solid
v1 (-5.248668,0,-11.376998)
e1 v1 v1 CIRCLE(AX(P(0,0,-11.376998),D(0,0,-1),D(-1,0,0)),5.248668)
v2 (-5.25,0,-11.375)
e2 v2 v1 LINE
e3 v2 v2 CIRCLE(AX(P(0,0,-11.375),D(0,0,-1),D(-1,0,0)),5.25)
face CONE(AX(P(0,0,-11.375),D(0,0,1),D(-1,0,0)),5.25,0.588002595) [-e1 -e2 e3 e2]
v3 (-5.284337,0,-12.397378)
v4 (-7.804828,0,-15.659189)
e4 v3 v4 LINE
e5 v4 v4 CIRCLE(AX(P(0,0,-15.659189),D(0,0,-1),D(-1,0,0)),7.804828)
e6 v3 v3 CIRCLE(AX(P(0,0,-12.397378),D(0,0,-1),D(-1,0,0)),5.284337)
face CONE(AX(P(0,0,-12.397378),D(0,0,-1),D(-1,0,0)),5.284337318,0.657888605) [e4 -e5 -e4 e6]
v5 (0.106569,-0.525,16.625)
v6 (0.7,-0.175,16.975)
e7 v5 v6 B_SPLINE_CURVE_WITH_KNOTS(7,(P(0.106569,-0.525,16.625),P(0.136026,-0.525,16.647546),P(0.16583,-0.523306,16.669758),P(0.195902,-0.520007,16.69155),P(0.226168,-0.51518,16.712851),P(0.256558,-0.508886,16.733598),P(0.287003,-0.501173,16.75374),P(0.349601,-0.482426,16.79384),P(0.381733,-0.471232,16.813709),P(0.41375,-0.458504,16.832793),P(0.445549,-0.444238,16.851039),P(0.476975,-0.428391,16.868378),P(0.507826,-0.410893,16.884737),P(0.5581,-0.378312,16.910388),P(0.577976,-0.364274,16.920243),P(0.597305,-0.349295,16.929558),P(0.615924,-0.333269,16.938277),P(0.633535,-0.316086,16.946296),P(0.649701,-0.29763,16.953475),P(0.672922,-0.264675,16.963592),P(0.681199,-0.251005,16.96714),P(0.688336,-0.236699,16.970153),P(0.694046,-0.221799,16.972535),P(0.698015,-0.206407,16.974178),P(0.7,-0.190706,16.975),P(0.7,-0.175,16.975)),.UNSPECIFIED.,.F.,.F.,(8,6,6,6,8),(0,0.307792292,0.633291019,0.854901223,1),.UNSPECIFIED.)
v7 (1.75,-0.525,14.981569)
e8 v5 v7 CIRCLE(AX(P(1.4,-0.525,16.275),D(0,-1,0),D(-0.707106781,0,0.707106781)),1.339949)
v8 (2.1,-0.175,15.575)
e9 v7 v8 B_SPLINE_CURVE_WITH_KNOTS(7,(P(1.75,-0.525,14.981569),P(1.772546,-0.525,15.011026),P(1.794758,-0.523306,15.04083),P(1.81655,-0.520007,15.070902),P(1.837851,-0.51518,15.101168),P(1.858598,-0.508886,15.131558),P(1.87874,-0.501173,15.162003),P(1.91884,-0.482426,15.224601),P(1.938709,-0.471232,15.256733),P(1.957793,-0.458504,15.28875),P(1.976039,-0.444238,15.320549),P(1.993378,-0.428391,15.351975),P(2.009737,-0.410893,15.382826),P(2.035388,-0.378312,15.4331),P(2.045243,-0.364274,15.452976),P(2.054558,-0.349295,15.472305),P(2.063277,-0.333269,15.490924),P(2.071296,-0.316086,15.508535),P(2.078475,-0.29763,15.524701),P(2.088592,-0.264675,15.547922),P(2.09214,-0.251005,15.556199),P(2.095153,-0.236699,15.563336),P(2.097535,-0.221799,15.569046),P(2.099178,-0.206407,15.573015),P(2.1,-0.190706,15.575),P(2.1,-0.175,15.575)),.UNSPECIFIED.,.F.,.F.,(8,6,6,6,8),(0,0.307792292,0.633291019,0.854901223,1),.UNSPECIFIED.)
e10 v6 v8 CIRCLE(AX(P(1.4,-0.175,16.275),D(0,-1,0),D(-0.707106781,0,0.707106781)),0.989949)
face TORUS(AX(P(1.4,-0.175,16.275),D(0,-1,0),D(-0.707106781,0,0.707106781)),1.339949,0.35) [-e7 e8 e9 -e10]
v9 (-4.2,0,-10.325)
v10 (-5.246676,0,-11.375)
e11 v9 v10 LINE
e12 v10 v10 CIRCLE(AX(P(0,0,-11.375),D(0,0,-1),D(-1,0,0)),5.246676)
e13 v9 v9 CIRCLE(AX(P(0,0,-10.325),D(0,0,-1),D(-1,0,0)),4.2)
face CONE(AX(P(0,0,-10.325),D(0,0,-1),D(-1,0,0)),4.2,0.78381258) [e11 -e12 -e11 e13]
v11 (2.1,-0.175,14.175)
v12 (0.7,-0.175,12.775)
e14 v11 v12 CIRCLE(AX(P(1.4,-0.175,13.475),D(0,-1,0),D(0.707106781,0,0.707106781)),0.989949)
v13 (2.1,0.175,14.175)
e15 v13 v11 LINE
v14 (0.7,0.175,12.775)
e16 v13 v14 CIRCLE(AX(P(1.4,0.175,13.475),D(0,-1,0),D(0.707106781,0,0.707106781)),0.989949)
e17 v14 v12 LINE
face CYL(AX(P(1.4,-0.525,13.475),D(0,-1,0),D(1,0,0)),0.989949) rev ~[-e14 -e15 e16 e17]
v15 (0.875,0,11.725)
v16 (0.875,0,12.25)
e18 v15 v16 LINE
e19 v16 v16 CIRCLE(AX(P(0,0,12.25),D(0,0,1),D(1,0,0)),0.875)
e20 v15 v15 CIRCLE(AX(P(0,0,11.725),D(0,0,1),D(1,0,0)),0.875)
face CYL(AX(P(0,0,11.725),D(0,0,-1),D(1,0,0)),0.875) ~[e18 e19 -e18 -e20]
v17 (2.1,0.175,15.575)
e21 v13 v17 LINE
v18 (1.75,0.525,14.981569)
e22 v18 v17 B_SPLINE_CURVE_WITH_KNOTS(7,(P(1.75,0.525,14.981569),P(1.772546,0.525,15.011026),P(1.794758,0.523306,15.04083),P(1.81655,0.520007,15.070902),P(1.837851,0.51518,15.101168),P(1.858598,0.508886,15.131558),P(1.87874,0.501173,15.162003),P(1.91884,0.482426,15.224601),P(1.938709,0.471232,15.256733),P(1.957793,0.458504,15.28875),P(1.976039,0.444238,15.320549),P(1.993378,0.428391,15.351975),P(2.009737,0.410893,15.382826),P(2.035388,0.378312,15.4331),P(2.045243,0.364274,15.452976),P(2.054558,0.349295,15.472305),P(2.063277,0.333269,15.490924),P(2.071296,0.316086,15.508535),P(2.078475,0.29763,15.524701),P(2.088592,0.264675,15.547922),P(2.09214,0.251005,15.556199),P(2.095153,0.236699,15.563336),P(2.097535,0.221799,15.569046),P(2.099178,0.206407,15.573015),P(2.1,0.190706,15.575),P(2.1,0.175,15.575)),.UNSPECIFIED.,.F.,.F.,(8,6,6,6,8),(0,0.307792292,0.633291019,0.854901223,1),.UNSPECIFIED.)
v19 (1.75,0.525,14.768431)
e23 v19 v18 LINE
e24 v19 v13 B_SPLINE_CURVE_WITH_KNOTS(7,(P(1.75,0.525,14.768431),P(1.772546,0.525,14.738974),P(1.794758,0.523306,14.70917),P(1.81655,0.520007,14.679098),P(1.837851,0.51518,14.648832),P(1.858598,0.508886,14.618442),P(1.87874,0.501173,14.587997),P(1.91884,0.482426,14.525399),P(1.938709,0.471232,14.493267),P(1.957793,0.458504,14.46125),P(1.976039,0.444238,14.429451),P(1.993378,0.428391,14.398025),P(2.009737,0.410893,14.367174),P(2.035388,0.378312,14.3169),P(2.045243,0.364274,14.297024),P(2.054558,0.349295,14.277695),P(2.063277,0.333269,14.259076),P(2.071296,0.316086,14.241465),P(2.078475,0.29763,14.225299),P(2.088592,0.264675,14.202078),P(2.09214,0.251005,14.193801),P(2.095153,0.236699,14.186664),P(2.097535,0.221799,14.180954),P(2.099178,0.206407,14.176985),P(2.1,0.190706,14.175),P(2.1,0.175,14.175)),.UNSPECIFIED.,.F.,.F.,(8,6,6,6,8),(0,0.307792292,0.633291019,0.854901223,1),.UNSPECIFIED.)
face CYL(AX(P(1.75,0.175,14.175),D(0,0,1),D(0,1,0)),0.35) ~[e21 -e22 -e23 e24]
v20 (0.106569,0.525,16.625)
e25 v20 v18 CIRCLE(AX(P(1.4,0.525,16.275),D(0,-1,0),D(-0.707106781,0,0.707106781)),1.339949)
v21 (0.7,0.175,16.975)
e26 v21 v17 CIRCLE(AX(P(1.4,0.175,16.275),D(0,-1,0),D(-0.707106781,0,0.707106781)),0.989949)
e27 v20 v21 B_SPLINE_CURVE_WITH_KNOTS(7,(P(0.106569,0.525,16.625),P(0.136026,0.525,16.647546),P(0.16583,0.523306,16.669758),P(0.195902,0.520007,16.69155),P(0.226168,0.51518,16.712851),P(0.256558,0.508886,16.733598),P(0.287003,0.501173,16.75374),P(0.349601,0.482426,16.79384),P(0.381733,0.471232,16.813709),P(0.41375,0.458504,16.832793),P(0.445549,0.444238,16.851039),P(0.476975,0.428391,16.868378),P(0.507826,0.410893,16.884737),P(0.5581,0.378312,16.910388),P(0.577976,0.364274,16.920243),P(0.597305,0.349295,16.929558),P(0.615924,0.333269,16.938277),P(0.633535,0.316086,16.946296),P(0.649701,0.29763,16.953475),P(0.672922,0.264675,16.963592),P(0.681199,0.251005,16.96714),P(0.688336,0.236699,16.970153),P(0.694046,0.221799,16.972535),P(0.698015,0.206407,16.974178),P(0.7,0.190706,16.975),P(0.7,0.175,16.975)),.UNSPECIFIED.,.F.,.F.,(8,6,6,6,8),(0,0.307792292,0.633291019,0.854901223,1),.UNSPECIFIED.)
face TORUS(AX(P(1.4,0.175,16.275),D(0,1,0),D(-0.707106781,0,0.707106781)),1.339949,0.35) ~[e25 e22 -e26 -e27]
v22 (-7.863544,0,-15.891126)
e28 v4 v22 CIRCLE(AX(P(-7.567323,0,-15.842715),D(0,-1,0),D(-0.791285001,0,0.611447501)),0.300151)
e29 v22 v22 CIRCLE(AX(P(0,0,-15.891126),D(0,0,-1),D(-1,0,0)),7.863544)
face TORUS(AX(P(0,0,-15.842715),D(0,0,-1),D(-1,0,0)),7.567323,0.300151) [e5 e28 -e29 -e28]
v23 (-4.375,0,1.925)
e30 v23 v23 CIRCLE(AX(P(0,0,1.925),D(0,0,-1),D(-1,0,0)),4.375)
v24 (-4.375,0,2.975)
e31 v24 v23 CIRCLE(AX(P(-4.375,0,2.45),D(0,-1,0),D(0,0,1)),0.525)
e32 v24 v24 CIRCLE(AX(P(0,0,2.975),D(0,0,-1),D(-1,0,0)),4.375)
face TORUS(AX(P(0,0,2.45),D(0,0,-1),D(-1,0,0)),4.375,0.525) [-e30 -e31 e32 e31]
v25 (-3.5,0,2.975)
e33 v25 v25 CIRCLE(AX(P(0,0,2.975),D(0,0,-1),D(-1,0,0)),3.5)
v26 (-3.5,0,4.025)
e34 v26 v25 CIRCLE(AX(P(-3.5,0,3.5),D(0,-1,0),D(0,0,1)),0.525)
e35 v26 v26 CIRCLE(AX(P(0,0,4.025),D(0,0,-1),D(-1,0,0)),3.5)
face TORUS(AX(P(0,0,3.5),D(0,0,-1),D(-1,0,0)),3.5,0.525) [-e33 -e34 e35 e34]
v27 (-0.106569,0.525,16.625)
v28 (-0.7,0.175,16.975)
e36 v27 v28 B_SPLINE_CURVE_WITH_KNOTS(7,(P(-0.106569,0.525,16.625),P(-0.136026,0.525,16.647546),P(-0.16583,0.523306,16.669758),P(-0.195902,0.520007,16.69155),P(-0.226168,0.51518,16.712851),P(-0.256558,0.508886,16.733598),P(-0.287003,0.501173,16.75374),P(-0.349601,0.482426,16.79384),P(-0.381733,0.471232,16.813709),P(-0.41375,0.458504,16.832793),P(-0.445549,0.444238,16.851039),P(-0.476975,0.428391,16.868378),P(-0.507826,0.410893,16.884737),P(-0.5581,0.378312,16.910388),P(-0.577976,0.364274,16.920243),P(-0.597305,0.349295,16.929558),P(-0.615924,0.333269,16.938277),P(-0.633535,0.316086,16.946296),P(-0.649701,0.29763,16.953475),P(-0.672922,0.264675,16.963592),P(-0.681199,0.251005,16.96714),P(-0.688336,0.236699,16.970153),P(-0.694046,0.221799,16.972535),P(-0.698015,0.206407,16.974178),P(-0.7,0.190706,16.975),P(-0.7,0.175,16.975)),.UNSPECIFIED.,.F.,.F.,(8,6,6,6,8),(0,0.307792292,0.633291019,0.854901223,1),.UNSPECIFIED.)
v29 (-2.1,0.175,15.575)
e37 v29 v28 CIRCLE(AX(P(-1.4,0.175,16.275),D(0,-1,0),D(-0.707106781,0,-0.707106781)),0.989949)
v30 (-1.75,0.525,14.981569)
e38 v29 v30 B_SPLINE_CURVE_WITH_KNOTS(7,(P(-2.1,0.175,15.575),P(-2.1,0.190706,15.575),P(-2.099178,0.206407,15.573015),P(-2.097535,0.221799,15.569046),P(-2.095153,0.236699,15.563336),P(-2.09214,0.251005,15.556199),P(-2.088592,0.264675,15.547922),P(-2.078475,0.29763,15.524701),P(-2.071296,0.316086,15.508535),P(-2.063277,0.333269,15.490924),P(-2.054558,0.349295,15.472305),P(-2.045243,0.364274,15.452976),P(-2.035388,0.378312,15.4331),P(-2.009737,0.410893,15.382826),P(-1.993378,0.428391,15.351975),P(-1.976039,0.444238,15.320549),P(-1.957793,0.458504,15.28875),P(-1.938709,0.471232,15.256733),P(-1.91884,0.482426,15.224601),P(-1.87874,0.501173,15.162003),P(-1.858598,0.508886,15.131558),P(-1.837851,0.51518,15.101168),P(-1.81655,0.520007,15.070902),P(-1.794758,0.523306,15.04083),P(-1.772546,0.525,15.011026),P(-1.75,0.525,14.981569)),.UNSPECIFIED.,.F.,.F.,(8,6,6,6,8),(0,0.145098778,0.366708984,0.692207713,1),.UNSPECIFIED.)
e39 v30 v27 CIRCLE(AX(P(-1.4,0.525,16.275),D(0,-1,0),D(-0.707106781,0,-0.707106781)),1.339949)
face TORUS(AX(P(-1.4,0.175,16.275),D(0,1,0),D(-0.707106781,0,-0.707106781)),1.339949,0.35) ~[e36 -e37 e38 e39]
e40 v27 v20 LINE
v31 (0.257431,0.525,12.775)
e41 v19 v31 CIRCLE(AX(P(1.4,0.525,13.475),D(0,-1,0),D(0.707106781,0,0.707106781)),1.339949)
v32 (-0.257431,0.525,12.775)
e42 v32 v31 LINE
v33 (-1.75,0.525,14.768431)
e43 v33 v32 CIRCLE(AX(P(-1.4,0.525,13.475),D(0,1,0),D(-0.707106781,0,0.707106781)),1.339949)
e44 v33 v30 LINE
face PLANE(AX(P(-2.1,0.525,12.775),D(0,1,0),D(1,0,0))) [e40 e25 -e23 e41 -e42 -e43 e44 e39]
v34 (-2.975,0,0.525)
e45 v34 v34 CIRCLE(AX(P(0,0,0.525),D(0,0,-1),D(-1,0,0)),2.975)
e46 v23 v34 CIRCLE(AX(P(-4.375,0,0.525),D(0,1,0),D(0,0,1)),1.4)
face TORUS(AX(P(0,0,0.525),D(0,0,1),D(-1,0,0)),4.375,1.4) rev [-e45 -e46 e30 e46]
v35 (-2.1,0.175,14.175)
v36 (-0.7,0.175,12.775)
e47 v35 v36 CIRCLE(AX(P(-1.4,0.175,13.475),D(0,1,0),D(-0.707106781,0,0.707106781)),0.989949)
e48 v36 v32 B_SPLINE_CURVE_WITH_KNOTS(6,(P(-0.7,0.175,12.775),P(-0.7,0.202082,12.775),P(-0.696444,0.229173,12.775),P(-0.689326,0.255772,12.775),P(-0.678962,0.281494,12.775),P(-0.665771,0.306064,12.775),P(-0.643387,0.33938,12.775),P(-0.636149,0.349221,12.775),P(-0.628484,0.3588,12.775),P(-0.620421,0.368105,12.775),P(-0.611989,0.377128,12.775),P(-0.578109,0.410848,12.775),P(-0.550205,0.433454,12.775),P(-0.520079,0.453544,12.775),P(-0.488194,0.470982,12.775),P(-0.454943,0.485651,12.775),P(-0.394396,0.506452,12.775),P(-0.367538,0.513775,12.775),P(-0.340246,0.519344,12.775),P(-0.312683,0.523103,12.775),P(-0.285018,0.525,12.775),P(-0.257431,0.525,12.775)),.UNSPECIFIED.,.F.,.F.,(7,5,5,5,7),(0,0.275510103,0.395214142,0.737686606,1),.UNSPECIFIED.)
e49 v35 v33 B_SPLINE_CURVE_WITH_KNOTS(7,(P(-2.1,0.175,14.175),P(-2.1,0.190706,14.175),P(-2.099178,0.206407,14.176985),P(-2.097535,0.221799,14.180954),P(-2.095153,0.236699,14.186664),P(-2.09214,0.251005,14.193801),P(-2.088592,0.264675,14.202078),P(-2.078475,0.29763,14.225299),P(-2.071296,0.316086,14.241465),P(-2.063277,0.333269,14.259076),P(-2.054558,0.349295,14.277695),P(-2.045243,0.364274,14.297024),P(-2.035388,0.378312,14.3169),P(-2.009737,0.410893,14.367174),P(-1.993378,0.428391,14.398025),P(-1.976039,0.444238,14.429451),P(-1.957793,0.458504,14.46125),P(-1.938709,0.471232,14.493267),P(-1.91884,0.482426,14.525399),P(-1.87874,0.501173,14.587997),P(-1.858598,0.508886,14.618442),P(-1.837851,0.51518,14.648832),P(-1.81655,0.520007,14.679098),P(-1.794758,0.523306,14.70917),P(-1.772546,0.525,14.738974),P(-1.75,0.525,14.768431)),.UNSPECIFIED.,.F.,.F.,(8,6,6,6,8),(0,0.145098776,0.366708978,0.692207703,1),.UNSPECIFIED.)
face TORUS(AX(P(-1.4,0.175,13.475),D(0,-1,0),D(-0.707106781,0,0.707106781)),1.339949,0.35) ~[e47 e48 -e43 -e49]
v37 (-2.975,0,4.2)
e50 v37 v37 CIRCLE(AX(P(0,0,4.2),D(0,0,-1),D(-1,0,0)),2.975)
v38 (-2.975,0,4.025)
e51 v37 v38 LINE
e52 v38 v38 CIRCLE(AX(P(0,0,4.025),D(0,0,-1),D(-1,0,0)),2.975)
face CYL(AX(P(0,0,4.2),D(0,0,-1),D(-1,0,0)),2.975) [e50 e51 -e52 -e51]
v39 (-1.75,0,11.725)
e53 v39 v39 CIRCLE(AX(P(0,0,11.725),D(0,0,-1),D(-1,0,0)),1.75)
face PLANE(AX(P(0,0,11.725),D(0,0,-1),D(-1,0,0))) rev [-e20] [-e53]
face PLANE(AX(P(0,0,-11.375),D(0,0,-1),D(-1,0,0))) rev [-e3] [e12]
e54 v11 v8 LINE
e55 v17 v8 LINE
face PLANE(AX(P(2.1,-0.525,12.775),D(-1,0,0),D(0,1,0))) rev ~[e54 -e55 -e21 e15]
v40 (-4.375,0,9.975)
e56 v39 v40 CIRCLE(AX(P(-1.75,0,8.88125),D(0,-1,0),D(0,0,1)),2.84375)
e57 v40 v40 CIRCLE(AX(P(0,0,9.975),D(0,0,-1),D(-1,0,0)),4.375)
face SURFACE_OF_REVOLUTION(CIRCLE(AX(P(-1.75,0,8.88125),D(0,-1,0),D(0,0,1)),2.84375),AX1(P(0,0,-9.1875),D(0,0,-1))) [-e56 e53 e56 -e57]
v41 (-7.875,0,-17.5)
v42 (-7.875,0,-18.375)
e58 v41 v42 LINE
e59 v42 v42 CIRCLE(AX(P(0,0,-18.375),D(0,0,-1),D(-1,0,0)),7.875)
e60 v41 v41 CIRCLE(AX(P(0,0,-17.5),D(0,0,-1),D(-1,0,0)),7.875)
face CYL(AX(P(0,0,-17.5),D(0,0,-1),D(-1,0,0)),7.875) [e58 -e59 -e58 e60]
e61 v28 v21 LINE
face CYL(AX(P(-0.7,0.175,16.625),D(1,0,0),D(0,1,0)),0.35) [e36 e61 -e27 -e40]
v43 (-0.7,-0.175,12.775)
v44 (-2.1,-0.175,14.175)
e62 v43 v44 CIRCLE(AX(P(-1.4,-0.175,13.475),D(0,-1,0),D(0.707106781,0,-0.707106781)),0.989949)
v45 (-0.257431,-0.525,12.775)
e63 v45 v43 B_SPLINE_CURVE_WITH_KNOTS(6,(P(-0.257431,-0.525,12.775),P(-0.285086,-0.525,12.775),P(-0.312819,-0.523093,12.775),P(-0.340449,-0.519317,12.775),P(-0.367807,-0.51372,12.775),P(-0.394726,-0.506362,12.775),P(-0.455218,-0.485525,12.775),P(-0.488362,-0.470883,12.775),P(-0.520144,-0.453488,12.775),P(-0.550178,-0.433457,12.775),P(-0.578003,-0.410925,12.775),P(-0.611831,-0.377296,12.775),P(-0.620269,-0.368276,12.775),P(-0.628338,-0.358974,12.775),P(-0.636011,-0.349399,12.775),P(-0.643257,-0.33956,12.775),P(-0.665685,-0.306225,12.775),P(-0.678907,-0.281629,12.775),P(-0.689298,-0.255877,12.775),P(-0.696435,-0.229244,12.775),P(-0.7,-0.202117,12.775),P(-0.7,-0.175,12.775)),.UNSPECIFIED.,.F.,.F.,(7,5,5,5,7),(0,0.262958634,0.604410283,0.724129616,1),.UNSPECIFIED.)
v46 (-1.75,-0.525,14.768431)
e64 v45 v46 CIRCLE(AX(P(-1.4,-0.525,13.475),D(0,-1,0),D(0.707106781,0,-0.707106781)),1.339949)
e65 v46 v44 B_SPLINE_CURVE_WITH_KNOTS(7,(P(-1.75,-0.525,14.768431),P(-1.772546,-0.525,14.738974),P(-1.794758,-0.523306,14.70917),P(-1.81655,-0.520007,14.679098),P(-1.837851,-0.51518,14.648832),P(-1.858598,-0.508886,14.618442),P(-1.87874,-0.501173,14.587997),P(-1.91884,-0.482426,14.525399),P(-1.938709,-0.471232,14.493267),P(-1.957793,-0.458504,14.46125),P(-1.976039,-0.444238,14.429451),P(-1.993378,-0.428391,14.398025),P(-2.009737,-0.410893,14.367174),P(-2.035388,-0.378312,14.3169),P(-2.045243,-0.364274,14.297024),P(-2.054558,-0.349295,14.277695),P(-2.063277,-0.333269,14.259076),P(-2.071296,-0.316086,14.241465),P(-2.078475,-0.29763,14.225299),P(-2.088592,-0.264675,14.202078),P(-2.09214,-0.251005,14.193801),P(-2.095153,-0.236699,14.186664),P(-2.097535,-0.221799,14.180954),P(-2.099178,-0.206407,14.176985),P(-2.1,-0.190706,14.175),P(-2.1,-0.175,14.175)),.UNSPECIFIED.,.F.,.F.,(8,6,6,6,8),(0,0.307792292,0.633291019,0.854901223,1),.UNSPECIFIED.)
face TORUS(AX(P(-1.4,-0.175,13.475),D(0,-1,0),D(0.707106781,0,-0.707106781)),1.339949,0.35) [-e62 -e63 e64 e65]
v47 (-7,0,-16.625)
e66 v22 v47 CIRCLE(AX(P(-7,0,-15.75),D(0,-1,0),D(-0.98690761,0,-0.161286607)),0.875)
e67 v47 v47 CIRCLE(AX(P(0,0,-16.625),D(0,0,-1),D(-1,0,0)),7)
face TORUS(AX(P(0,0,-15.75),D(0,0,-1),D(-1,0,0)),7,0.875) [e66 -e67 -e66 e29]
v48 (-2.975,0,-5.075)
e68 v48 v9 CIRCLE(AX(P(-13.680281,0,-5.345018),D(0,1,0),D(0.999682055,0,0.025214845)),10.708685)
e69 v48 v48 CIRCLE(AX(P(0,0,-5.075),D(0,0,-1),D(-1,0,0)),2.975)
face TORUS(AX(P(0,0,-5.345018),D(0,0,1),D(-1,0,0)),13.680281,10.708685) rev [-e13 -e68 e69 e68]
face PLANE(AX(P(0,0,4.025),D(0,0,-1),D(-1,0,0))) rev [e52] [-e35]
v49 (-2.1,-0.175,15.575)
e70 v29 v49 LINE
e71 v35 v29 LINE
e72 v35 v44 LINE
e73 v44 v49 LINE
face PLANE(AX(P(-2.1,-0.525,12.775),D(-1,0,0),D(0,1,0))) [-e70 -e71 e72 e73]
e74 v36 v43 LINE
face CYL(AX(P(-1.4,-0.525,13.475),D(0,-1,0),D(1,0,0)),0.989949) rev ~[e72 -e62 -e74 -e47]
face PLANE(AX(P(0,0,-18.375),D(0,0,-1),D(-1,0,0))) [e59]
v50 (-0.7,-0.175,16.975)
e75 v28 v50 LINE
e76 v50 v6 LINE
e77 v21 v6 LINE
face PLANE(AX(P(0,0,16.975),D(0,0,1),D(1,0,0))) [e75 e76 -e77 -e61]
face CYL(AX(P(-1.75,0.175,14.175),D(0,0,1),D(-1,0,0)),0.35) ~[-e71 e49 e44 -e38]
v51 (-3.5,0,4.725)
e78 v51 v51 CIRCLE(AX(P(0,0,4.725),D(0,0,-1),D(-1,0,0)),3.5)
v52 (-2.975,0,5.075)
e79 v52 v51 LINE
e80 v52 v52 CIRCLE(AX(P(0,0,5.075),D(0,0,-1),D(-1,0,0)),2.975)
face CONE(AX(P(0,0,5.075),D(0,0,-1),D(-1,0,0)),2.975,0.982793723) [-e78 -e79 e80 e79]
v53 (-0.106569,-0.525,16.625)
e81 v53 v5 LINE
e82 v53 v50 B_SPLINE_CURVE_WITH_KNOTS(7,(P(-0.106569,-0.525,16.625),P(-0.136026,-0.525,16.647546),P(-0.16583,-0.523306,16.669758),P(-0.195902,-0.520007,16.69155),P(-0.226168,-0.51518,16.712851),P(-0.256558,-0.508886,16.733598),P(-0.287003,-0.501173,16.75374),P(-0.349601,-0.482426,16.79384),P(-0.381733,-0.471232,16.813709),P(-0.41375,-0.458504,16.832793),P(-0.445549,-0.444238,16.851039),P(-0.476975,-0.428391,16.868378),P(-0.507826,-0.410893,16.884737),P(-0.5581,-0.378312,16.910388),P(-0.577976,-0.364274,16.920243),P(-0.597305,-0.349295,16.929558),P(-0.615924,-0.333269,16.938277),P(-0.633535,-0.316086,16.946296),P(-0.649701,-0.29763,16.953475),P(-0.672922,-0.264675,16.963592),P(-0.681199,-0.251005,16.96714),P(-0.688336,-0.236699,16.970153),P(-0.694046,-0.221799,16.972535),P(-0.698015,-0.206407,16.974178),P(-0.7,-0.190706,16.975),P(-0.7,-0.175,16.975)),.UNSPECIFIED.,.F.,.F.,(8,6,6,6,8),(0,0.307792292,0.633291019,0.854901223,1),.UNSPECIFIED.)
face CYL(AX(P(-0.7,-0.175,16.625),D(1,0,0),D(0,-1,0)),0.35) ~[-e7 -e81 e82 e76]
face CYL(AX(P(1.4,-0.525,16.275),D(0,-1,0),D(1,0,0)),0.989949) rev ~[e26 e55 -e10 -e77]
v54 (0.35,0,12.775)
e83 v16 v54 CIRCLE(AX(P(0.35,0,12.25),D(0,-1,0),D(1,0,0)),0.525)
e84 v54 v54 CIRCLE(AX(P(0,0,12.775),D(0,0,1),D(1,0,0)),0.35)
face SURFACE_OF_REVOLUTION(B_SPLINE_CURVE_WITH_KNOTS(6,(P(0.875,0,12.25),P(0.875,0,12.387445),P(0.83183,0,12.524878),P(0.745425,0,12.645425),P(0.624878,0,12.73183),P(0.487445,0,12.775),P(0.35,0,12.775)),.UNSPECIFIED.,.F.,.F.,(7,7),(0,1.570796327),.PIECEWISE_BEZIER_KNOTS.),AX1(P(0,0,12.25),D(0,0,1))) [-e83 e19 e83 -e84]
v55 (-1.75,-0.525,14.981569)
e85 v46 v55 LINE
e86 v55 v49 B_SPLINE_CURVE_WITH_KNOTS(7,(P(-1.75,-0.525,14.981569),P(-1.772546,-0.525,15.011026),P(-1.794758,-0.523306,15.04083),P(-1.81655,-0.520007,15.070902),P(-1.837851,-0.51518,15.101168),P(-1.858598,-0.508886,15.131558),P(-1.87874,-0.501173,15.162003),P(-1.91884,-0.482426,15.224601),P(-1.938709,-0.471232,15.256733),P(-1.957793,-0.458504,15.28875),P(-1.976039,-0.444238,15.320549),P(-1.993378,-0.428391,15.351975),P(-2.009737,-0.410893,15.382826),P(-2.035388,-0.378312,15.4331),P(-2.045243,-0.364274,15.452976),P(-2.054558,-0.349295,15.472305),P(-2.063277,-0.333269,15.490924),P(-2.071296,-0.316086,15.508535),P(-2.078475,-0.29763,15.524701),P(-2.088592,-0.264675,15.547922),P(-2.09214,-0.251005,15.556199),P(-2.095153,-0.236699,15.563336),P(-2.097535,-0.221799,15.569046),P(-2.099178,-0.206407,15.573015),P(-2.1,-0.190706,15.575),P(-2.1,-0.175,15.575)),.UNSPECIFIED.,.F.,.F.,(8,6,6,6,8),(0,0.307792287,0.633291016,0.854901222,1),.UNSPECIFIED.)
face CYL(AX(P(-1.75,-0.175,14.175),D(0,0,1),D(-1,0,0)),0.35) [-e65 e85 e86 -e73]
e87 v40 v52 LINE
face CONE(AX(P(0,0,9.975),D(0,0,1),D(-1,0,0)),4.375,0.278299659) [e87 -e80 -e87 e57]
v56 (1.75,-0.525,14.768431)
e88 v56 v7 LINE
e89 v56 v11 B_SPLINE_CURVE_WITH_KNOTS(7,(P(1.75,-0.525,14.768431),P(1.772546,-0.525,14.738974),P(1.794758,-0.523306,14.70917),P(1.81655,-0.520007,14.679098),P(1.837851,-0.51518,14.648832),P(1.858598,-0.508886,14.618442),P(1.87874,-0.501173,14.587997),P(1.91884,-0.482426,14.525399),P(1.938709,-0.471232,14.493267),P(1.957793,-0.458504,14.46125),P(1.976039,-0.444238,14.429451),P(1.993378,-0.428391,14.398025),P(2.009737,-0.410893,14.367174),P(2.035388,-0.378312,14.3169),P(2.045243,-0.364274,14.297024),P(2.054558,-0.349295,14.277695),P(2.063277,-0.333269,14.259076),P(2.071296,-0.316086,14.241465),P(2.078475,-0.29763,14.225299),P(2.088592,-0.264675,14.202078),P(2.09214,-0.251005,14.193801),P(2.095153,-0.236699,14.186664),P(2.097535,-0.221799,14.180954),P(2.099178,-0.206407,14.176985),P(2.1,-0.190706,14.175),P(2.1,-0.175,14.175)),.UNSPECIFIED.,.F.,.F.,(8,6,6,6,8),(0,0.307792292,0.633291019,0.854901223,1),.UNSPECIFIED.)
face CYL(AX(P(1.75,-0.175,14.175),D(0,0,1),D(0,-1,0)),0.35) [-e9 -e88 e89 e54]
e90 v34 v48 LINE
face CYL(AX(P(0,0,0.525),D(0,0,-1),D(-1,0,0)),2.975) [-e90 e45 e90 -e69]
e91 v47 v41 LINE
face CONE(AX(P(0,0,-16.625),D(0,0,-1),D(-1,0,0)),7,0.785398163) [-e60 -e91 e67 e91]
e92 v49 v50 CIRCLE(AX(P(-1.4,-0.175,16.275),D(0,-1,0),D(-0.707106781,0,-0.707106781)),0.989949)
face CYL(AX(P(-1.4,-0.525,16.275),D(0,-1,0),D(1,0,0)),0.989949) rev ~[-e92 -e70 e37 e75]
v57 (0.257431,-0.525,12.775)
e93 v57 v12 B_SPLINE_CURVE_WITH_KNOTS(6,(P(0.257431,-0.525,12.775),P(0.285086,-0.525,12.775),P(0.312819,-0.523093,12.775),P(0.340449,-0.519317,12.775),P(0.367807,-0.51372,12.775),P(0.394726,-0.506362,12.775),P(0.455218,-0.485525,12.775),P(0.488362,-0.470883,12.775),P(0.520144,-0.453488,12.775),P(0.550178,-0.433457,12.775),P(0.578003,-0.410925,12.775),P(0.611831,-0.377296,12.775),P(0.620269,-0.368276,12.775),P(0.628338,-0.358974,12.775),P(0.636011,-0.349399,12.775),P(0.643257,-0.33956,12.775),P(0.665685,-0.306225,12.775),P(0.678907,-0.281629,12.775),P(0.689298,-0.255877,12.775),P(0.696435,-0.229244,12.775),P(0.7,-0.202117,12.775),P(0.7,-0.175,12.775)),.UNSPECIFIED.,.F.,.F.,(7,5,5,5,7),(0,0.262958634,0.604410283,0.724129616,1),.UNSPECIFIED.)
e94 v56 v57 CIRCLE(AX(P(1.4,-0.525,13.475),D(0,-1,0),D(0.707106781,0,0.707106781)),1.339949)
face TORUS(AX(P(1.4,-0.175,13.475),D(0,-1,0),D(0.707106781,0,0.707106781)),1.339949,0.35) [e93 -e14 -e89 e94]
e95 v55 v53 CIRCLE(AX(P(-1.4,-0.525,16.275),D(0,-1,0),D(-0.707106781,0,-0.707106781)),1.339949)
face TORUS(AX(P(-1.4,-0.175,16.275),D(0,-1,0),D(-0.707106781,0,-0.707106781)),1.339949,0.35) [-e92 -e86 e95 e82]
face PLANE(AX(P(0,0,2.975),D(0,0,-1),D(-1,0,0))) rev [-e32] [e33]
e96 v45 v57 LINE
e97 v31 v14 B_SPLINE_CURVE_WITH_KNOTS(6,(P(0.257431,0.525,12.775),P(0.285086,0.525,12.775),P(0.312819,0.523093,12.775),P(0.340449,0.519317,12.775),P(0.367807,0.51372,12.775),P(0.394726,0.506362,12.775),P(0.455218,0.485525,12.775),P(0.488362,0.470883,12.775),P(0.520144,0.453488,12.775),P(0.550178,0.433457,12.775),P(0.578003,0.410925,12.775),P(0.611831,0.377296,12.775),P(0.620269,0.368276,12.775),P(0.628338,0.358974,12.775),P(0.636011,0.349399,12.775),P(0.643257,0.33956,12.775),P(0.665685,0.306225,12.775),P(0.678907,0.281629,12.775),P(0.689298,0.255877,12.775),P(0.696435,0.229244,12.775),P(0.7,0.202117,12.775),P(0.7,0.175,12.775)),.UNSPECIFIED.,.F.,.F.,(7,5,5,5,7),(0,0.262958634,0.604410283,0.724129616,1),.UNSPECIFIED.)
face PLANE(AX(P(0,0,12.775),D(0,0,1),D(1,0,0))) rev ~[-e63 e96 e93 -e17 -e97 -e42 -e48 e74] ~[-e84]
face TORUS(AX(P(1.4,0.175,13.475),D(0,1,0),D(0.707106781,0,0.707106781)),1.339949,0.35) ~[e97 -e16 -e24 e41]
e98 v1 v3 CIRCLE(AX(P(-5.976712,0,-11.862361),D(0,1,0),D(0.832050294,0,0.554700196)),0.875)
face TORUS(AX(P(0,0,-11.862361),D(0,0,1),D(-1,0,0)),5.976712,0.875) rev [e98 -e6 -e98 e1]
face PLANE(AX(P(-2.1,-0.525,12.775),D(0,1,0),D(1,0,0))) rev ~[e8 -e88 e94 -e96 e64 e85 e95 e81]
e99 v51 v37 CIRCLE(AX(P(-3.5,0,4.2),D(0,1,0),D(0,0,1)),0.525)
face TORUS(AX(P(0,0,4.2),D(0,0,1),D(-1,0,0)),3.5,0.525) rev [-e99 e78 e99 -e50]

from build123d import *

# Parameters (mm, degrees)
F2_R      = 2.5
F3_DEPTH  = 3
F4_R      = 1.5
F5_W      = 12
F5_H      = 3
F6_DEPTH  = 12
F7_R      = 2.8284271247
F8_DEPTH  = 3
F9_R      = 1
F10_R     = 1
F11_SCALE = 0.35


with BuildPart() as f1:
    # F0 (on Front) → F1 (revolve)
    with BuildSketch(Plane.XZ):
        with BuildLine():
            Line((0, -32.5), (0, 0))
            Line((0, 0), (0, 8.5))
            Line((0, 8.5), (-10, 8.5))
            Line((-10, 8.5), (-12.5, 8.5))
            ThreePointArc((-12.5, 8.5), (-14, 7), (-12.5, 5.5))
            ThreePointArc((-12.5, 5.5), (-9.6715728753, 4.3284271247), (-8.5, 1.5))
            Line((-8.5, 1.5), (-8.5, -14.5))
            ThreePointArc((-8.5, -14.5), (-9.2906328156, -22.223852343), (-12, -29.5))
            Line((-12, -29.5), (-14.9905015534, -32.5))
            Line((-14.9905015534, -32.5), (0, -32.5))
        make_face()
        with BuildLine():
            Line((-10, 8.5), (0, 8.5))
            Line((0, 8.5), (0, 14.5))
            Line((0, 14.5), (-8.5, 14.5))
            Line((-8.5, 14.5), (-10, 13.5))
            ThreePointArc((-10, 13.5), (-8.9393398282, 13.0606601718), (-8.5, 12))
            Line((-8.5, 12), (-8.5, 11.5))
            Line((-8.5, 11.5), (-10, 11.5))
            ThreePointArc((-10, 11.5), (-11.5, 10), (-10, 8.5))
        make_face()
        with BuildLine():
            Line((0, -47.5), (0, -32.5))
            Line((0, -32.5), (-14.9905015534, -32.5))
            Line((-14.9905015534, -32.5), (-14.99619339, -32.5057099151))
            ThreePointArc((-14.99619339, -32.5057099151), (-14.5778452371, -33.9798001313), (-15.0981066223, -35.4210791583))
            Line((-15.0981066223, -35.4210791583), (-22.2995082136, -44.7405400411))
            ThreePointArc((-22.2995082136, -44.7405400411), (-22.452270608, -45.0544403605), (-22.4672690248, -45.4032165166))
            ThreePointArc((-22.4672690248, -45.4032165166), (-21.6189439009, -46.9049988572), (-20, -47.5))
            Line((-20, -47.5), (0, -47.5))
        make_face()
        with BuildLine():
            Line((-8.5, 14.5), (0, 14.5))
            Line((0, 14.5), (0, 33.5))
            Line((0, 33.5), (-5, 33.5))
            ThreePointArc((-5, 33.5), (-9.5069390943, 32.1354086415), (-12.5, 28.5))
            Line((-12.5, 28.5), (-8.5, 14.5))
        make_face()
        Polygon((0, -52.5), (0, -47.5), (-20, -47.5), (-22.5, -50), (-22.5, -52.5), align=None)
        Polygon((-14.99619339, -32.5057099151), (-14.9905015534, -32.5), (-15, -32.5), align=None)
    revolve(axis=Axis((0, 0, -26.25), (0, 0, -1)))

    # F2 (on face) → F3 (join)
    with BuildSketch(Plane.XY.offset(33.5)):
        Circle(F2_R)
    extrude(amount=F3_DEPTH)

    # F4
    f4_edges = [f1.edges().sort_by_distance(p)[0] for p in [
        (-2.5, 0, 36.5),
    ]]
    fillet(f4_edges, radius=F4_R)

    # F5 (on face) → F6 (join)
    with BuildSketch(Plane.XY.offset(36.5)):
        Rectangle(F5_W, F5_H)
    extrude(amount=F6_DEPTH)

    # F7 (on face) → F8 (cut)
    with BuildSketch(Plane.XZ.offset(1.5)):
        with Locations((-4, 46.5)):
            Circle(F7_R)
        with Locations((4, 46.5)):
            Circle(F7_R)
        with Locations((4, 38.5)):
            Circle(F7_R)
        with Locations((-4, 38.5)):
            Circle(F7_R)
    extrude(amount=-F8_DEPTH, mode=Mode.SUBTRACT)

    # F9
    f9_edges = [f1.edges().sort_by_distance(p)[0] for p in [
        (-2, -1.5, 44.5),
        (0, -1.5, 48.5),
        (2, -1.5, 44.5),
        (6, -1.5, 42.5),
        (2, -1.5, 40.5),
        (-2, -1.5, 40.5),
        (-6, -1.5, 42.5),
    ]]
    fillet(f9_edges, radius=F9_R)

    # F10
    f10_edges = [f1.edges().sort_by_distance(p)[0] for p in [
        (2, 1.5, 44.5),
        (6, 1.5, 42.5),
        (2, 1.5, 40.5),
        (-2, 1.5, 40.5),
        (-6, 1.5, 42.5),
        (-2, 1.5, 44.5),
        (0, 1.5, 48.5),
    ]]
    fillet(f10_edges, radius=F10_R)


with BuildPart() as f1_1:
    # F11: moved
    add(f1.part.scale(F11_SCALE))


solid = f1_1.part
